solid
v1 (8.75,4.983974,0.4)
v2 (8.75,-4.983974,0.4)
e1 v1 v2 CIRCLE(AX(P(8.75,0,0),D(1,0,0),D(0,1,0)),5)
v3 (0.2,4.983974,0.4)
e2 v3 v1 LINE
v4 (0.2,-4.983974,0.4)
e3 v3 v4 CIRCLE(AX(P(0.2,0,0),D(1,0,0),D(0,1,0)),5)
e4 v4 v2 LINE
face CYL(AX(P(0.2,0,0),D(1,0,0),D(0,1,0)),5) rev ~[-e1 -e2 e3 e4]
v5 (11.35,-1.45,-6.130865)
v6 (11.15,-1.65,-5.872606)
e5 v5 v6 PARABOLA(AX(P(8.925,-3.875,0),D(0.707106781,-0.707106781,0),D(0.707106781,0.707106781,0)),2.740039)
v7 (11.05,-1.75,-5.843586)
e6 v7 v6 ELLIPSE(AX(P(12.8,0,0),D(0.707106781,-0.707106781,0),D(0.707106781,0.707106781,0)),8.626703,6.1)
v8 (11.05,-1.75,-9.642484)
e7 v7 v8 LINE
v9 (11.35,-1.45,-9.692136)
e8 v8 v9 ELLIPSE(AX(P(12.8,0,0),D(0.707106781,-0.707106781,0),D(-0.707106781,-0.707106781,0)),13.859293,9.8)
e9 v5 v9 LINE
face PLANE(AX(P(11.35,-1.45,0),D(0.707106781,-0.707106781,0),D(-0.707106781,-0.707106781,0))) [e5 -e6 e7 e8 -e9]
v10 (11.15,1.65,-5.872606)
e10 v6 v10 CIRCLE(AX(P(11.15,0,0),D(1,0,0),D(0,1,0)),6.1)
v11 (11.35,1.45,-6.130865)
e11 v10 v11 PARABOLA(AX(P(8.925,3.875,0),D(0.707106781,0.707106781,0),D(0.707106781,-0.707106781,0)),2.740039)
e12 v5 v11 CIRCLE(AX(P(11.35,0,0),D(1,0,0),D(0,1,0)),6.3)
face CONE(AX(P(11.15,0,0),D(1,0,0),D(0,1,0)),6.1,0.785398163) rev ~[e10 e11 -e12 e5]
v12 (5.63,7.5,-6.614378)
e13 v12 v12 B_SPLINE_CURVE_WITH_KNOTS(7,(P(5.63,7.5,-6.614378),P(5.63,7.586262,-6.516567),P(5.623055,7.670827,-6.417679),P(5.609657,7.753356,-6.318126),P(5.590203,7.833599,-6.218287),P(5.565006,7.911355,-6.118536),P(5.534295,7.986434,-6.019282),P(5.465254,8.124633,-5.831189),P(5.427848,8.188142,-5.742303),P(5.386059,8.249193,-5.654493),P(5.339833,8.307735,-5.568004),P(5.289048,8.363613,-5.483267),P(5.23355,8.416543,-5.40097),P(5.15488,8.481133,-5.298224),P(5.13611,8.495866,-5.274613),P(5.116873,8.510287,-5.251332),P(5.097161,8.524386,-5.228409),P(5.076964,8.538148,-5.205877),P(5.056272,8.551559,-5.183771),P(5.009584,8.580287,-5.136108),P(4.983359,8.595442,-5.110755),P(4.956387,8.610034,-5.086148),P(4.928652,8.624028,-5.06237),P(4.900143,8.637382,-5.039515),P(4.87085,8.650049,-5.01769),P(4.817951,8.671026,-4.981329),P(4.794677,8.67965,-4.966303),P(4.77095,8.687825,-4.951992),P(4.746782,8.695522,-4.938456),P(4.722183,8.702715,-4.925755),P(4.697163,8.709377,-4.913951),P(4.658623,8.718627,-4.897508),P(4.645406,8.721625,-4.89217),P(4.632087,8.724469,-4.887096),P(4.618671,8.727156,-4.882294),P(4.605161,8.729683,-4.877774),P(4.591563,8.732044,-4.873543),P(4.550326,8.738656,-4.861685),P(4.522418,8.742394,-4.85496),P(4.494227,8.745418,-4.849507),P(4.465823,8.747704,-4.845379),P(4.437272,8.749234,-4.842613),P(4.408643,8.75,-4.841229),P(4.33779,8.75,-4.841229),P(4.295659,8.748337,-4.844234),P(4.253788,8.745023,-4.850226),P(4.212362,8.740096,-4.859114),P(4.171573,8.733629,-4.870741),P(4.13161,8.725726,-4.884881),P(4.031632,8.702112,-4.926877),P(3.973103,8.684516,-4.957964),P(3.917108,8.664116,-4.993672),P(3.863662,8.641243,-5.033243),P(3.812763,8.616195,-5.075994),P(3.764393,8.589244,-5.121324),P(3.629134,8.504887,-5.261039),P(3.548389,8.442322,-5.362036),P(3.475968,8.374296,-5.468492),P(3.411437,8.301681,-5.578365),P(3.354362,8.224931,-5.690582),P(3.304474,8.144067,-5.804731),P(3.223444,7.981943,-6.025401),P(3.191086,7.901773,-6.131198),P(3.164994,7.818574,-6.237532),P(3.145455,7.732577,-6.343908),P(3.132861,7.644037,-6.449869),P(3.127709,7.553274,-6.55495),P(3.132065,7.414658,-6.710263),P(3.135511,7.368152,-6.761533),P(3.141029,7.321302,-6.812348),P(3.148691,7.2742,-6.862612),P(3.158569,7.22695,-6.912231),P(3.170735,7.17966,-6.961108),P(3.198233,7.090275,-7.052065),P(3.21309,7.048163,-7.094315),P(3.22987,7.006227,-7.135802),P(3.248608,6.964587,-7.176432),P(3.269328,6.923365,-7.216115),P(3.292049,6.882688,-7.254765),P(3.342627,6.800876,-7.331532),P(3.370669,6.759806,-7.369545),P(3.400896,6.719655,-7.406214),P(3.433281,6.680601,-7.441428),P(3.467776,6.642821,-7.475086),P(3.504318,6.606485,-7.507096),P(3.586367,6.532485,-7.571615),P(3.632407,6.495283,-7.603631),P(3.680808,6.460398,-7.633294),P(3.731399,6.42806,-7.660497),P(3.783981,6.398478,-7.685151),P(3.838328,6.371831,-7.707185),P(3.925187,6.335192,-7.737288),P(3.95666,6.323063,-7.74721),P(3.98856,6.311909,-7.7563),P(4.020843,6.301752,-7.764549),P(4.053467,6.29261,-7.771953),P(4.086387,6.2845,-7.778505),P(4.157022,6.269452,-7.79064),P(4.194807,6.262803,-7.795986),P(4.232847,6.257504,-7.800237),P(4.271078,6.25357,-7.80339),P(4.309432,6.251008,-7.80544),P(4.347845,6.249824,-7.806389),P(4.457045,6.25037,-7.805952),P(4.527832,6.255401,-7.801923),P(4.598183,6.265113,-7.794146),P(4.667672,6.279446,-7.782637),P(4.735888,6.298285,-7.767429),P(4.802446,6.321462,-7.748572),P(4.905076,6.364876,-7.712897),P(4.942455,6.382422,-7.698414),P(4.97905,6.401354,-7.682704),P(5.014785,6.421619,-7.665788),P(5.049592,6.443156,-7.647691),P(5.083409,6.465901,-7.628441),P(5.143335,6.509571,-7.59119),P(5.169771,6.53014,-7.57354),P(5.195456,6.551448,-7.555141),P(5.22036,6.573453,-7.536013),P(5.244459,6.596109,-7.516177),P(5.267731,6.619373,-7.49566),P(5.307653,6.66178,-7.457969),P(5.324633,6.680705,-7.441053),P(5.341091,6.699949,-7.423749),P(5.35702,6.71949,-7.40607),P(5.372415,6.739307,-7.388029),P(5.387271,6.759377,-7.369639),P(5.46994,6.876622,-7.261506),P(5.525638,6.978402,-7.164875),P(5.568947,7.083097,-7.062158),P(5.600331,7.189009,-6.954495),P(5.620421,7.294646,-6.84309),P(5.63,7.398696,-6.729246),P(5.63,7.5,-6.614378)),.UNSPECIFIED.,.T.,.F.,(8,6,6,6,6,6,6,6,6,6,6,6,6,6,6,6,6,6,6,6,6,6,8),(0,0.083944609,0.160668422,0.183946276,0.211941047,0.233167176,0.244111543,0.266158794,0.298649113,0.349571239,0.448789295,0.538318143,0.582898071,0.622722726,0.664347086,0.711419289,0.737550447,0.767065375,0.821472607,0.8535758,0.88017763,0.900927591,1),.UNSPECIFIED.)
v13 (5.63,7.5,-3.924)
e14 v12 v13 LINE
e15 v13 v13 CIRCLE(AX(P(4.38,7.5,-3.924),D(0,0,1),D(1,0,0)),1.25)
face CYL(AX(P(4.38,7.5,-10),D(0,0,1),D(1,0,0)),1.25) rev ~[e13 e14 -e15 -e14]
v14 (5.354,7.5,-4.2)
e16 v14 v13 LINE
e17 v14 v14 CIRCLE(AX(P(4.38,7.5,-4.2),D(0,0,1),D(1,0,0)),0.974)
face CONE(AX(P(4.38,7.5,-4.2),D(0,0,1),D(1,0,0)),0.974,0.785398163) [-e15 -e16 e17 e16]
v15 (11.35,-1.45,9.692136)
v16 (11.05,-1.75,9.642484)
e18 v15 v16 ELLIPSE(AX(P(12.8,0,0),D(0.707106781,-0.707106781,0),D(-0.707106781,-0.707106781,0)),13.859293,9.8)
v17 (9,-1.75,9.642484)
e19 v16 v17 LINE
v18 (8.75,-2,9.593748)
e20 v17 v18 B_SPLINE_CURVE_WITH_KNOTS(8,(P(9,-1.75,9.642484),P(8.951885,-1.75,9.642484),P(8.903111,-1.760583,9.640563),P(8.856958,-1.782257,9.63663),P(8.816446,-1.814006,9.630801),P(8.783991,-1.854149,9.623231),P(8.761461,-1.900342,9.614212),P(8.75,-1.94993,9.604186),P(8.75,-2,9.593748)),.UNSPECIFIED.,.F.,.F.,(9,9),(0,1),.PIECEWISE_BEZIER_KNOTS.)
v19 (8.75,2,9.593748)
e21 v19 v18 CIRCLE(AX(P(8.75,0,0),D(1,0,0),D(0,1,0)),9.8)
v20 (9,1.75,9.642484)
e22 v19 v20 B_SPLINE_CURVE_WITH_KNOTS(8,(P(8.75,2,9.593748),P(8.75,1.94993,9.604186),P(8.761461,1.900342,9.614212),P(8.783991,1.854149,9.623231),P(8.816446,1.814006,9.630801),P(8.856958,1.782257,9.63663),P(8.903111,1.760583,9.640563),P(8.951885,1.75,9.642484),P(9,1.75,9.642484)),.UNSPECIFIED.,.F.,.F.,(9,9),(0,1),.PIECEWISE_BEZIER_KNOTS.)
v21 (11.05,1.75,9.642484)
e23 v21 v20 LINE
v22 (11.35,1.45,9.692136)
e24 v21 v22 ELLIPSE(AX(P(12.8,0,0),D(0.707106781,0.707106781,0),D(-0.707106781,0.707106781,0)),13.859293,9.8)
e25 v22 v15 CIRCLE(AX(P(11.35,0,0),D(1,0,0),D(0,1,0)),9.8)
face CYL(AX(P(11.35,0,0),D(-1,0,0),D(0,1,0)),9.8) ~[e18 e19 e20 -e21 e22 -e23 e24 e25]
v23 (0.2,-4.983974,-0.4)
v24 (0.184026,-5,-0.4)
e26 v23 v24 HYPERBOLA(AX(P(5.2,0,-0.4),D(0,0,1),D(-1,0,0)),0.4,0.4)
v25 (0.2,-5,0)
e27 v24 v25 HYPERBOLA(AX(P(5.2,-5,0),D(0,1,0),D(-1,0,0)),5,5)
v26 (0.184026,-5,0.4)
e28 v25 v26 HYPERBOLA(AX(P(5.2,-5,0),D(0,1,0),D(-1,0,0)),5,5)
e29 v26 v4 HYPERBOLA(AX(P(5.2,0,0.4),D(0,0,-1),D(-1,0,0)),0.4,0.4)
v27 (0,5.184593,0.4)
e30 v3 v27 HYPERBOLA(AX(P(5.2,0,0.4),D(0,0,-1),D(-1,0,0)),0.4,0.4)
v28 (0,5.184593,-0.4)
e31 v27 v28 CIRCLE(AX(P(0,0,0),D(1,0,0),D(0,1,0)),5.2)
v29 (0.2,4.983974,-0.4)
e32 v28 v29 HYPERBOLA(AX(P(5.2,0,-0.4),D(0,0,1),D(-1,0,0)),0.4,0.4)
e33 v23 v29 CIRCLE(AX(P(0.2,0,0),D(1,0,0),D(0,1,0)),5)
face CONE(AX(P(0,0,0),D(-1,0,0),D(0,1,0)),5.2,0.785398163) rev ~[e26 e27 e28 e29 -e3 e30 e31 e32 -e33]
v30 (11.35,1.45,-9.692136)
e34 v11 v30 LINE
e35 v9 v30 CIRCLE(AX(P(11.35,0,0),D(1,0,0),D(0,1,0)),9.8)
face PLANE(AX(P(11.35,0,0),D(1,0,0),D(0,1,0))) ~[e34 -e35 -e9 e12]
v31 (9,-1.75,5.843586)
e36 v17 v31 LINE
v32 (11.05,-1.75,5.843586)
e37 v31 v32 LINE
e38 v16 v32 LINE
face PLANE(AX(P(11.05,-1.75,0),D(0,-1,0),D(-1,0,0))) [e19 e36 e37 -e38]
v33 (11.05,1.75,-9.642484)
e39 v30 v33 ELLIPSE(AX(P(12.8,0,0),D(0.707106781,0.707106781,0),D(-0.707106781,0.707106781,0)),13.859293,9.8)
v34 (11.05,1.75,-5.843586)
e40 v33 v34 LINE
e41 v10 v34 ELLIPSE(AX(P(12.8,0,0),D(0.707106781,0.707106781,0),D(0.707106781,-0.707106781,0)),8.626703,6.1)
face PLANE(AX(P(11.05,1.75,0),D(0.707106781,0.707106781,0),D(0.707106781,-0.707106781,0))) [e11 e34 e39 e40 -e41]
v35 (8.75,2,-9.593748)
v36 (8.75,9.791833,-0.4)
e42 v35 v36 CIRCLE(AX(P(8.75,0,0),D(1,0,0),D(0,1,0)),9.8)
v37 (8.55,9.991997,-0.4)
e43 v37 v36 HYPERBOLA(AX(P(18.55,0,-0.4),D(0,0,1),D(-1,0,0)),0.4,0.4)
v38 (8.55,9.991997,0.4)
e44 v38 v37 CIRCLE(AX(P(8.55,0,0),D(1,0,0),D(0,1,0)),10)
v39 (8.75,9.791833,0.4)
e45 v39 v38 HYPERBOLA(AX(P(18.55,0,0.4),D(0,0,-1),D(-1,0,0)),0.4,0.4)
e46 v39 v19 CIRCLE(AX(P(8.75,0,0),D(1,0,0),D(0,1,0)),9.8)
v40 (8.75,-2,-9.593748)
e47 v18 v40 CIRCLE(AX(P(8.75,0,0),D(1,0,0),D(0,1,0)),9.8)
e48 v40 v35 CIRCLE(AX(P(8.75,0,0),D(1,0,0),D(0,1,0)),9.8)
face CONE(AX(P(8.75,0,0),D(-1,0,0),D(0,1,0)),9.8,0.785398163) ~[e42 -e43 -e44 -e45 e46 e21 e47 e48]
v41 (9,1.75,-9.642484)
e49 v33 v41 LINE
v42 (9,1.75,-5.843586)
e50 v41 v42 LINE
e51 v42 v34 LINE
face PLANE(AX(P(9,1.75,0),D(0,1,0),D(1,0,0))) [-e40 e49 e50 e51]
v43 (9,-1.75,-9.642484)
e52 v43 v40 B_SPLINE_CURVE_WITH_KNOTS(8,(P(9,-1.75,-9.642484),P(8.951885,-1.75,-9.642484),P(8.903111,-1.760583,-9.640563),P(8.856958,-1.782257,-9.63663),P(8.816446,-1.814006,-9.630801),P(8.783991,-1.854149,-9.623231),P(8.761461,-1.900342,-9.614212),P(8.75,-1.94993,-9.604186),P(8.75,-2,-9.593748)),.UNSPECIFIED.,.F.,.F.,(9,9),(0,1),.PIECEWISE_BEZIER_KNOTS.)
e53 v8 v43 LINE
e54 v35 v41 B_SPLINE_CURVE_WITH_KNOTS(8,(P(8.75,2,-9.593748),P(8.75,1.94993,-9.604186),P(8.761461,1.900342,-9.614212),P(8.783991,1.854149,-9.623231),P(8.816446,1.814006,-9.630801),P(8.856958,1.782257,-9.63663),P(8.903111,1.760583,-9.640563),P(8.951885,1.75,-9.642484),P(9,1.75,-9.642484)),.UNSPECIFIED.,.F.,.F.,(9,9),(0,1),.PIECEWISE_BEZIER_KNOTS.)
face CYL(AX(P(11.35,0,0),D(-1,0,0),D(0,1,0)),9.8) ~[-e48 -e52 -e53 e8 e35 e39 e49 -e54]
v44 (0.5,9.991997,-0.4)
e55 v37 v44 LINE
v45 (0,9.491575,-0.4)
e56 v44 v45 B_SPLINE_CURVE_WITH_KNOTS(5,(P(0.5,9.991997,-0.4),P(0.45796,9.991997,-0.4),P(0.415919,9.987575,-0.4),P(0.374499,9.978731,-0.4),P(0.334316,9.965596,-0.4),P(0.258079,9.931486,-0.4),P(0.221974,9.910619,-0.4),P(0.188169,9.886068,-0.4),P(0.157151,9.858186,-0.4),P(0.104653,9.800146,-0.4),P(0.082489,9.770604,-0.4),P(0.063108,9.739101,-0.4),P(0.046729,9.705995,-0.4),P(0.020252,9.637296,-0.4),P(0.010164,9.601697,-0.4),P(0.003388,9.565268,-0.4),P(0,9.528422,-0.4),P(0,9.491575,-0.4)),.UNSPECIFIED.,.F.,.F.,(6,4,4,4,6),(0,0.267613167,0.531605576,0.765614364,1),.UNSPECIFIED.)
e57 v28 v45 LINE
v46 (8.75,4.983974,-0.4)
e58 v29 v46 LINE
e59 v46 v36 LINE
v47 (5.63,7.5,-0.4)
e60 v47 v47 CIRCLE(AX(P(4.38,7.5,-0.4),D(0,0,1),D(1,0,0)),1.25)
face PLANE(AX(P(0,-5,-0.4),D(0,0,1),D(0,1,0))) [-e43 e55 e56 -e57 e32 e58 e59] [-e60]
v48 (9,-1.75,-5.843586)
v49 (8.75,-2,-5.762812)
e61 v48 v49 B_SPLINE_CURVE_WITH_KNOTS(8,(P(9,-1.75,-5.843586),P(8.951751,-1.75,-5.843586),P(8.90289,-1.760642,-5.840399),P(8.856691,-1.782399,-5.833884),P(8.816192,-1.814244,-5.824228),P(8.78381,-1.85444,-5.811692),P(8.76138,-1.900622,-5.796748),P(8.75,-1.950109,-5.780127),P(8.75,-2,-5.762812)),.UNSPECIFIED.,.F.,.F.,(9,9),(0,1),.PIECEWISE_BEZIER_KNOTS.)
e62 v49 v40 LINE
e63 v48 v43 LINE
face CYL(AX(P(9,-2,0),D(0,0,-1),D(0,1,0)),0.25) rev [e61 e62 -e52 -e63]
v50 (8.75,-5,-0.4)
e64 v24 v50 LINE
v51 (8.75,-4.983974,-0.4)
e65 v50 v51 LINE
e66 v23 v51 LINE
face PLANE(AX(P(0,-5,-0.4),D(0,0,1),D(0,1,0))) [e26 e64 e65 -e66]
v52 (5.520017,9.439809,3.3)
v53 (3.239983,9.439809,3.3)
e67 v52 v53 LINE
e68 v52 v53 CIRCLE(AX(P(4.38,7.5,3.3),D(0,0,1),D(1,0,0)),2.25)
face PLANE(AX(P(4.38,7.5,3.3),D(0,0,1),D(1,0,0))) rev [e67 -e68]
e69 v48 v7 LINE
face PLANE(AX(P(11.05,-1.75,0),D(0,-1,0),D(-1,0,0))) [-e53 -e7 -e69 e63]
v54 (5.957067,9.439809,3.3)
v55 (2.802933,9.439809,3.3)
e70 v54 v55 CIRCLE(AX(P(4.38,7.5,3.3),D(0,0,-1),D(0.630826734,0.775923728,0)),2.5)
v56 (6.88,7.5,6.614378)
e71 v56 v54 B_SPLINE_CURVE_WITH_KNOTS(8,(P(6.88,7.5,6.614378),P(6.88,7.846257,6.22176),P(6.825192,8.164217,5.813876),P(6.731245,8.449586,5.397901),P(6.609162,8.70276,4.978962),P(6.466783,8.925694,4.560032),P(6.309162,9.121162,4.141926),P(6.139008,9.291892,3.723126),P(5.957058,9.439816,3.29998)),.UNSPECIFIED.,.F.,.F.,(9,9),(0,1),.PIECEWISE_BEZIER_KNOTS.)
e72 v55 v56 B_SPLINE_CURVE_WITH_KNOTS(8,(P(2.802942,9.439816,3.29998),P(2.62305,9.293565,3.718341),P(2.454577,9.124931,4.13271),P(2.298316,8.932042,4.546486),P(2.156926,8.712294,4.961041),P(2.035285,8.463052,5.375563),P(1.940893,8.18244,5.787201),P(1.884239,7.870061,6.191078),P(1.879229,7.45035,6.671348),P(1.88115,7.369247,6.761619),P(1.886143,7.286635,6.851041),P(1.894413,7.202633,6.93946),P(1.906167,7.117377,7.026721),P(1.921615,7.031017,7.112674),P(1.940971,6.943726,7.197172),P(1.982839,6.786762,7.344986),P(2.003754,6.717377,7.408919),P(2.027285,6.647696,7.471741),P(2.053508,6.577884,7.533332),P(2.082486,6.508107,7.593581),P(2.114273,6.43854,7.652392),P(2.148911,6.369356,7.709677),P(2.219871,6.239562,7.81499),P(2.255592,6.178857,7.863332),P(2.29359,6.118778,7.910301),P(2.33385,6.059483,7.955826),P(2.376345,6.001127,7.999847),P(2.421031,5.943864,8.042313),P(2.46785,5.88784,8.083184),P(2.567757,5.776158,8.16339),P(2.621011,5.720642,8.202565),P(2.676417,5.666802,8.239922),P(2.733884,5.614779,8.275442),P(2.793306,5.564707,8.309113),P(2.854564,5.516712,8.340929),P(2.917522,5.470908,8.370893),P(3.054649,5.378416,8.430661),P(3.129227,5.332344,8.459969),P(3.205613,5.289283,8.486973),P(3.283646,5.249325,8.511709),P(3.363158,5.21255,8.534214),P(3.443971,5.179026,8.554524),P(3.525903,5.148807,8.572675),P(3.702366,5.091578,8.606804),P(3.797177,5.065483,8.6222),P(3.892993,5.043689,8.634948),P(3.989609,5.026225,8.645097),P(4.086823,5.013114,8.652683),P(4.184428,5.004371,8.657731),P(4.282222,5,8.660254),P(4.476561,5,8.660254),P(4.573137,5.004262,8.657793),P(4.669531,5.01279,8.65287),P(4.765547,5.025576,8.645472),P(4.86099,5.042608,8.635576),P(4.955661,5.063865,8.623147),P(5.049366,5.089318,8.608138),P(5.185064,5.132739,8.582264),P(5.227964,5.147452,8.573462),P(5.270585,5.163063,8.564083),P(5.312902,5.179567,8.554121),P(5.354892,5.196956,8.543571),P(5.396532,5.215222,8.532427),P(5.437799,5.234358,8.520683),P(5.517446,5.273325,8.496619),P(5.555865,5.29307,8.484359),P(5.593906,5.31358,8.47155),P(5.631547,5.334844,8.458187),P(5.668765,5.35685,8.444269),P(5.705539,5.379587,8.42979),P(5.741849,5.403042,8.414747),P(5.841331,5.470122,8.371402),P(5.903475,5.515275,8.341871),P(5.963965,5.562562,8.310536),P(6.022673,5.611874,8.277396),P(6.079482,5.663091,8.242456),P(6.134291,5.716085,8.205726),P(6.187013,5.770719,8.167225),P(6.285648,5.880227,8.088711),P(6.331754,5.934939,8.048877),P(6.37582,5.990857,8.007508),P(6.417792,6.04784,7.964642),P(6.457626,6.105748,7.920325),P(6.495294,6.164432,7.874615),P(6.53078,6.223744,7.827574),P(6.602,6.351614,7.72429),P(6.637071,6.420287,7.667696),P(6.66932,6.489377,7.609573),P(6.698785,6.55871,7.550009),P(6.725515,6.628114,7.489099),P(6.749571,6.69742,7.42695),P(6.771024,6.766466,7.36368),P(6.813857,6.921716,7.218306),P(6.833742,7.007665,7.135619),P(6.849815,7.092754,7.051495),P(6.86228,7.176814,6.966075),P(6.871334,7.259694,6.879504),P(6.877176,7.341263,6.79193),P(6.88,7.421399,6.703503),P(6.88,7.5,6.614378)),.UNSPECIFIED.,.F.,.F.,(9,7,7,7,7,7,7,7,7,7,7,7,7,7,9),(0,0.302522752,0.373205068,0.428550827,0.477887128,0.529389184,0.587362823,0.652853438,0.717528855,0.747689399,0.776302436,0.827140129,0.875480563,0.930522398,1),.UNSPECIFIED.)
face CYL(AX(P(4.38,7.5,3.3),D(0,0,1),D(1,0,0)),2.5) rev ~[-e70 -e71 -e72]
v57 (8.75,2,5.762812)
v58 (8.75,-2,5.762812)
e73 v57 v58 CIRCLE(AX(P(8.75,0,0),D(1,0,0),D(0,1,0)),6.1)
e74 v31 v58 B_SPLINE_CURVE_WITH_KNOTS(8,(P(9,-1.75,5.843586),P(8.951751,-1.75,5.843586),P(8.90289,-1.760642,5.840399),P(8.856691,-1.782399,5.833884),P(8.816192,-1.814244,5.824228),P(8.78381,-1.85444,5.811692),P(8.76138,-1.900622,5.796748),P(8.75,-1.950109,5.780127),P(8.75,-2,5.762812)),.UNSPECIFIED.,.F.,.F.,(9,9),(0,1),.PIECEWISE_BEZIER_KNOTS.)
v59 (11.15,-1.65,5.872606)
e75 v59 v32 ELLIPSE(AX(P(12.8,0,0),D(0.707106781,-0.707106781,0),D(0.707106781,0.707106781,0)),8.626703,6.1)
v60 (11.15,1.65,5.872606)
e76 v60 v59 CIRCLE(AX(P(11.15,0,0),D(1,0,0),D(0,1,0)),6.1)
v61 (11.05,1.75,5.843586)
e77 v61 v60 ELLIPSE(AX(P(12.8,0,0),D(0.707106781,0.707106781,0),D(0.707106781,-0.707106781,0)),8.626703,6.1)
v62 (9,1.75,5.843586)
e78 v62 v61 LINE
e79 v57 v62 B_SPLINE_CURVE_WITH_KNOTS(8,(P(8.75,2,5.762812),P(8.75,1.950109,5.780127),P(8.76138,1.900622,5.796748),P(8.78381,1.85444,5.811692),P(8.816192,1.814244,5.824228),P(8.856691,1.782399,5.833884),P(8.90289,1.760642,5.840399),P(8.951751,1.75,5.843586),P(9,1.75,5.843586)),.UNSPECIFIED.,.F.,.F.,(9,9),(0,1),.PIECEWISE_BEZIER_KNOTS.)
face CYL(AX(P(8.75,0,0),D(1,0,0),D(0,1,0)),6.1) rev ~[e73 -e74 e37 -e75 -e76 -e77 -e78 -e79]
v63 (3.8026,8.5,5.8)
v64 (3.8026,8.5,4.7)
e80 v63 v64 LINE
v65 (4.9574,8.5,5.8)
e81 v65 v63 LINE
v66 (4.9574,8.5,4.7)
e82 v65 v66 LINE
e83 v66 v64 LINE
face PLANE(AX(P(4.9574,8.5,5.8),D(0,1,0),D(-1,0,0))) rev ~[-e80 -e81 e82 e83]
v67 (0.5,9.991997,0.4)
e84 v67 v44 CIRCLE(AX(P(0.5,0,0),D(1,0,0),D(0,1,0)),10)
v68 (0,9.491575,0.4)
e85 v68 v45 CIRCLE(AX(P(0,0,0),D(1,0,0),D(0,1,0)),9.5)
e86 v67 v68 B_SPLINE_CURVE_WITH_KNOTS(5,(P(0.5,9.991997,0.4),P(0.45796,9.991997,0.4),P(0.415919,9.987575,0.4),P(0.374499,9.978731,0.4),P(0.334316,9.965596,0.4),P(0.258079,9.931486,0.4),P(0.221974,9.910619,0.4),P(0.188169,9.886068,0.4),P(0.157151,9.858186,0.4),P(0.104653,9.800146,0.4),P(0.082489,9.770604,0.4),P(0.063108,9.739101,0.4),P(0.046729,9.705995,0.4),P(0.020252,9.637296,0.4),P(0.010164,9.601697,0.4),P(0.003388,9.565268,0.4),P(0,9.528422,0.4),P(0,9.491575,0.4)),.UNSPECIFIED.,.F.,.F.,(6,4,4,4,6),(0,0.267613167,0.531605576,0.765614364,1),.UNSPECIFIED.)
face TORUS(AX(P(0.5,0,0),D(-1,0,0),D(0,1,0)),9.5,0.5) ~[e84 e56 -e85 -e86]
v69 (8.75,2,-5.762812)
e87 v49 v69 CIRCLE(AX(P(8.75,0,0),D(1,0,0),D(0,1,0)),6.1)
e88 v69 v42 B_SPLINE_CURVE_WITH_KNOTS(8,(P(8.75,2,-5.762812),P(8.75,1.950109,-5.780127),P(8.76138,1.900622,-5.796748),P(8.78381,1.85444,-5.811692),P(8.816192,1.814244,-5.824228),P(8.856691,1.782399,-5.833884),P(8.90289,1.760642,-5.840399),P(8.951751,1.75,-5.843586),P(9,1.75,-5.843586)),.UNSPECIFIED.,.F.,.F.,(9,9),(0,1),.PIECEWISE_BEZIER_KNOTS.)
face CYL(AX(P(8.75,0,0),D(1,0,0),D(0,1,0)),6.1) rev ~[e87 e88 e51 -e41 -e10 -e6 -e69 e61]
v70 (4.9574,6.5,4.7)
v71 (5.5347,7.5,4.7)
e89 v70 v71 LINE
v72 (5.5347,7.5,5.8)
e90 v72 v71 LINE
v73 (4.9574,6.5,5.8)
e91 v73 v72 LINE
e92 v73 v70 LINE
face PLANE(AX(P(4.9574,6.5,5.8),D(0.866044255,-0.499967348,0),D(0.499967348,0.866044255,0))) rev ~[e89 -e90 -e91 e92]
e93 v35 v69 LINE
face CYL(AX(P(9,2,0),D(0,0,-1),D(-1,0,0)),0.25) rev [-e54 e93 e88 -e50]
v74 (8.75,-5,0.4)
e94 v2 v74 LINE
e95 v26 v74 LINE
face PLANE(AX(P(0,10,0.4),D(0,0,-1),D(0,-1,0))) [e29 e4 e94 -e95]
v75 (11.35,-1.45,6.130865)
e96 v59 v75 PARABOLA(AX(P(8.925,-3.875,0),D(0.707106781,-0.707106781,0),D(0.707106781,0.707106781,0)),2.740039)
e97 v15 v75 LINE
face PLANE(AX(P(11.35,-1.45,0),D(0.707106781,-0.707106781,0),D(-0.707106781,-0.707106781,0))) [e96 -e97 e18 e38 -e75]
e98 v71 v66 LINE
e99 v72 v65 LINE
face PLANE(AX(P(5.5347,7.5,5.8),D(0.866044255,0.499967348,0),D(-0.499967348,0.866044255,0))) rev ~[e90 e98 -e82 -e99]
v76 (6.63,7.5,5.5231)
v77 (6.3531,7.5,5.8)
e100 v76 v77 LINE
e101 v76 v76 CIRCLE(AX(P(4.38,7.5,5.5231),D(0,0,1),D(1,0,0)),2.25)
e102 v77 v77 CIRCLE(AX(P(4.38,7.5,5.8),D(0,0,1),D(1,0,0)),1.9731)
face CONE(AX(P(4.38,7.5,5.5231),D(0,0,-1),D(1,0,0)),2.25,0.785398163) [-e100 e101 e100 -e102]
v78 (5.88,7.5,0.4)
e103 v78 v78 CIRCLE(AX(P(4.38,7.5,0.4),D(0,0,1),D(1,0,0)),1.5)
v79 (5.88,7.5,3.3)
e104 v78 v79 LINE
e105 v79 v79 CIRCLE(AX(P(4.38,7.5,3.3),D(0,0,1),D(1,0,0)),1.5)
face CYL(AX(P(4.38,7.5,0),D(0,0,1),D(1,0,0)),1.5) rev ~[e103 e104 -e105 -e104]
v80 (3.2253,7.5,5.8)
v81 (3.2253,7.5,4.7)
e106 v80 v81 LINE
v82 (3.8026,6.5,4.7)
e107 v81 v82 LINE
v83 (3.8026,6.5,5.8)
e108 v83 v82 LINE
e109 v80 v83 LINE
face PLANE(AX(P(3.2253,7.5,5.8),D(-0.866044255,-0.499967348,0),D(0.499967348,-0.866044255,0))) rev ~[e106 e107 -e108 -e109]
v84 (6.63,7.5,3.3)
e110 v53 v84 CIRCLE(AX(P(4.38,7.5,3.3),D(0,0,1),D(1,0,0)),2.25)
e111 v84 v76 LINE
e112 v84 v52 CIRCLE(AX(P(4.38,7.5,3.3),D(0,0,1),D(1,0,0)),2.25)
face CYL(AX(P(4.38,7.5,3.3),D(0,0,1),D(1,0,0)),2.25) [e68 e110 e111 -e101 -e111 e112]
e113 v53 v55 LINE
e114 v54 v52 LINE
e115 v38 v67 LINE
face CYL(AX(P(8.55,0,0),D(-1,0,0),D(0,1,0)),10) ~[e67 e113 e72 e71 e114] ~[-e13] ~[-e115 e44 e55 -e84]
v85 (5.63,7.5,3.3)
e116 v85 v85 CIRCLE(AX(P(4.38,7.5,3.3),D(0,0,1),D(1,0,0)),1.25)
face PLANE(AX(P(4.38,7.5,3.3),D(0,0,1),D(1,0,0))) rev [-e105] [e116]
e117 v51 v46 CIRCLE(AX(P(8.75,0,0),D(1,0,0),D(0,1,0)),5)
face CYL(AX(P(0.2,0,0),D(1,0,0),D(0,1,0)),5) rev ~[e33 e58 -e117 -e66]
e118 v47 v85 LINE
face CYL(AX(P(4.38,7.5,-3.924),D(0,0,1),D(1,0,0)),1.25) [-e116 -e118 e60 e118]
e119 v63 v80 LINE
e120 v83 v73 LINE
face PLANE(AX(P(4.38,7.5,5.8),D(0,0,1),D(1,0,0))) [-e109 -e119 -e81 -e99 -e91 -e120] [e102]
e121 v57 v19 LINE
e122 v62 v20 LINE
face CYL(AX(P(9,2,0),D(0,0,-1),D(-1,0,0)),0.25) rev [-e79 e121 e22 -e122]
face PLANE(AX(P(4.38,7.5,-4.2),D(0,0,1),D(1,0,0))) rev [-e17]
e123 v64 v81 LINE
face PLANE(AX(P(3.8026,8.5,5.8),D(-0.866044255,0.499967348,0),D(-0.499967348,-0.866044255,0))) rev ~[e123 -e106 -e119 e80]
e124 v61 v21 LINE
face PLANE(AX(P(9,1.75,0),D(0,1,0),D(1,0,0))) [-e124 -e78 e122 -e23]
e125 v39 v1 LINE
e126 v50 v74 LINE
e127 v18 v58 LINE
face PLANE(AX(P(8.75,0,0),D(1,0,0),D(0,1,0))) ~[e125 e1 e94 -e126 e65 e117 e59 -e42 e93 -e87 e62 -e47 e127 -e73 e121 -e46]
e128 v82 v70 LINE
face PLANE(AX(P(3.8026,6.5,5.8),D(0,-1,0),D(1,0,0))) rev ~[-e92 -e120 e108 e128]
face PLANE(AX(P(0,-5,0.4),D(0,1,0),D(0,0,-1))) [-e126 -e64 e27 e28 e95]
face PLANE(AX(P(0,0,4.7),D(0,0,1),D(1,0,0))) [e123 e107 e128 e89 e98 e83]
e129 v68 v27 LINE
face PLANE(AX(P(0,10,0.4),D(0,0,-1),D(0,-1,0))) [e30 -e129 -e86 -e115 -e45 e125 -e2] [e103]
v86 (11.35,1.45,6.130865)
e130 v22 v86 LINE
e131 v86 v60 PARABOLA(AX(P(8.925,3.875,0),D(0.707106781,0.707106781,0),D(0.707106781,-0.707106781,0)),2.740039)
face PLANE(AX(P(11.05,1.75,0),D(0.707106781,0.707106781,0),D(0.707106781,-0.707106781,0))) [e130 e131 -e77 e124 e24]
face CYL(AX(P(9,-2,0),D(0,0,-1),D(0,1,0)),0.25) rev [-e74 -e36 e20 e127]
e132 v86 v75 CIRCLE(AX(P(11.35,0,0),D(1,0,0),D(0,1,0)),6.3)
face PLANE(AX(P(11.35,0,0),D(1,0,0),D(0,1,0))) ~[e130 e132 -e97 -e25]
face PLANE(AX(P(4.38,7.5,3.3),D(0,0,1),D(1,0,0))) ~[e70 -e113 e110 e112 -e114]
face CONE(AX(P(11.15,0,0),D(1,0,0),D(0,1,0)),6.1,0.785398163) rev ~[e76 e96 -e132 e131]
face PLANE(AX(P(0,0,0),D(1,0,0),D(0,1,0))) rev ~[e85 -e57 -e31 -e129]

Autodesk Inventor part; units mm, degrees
sketch "Sketch_1" plane through (0, 0, 0) normal (0, 0, 1) x (1, 0, 0)
  line L0 (11.35, 0) -> (0, 0)
  line L1 (0, 5.2) -> (0.2, 5)
  line L2 (0.2, 5) -> (8.75, 5)
  line L3 (8.75, 5) -> (8.75, 6.1)
  line L4 (8.75, 6.1) -> (11.15, 6.1)
  line L5 (11.15, 6.1) -> (11.35, 6.3)
  line L6 (11.35, 6.3) -> (11.35, 9.8)
  line L7 (11.35, 9.8) -> (8.75, 9.8)
  line L8 (8.75, 9.8) -> (8.55, 10)
  line L9 (8.55, 10) -> (0.5, 10)
  arc A0 (0.5, 10) -> (0, 9.5) centre (0.5, 9.5) ccw
  line L10 (0, 9.5) -> (0, 5.2)
revolve "Revolution1" add sketch "Sketch_1" angle 360 about axis through (11.35, 0, 0) along (1, 0, 0)
sketch "Sketch_2" plane through (0, 0, 0) normal (0, 0, 1) x (1, 0, 0)
  arc A0 (8.75, 2) -> (9, 1.75) centre (9, 2) ccw
  line L0 (9, 1.75) -> (11.05, 1.75)
  line L1 (11.05, 1.75) -> (11.35, 1.45)
  line L2 (11.35, 1.45) -> (11.35, -1.45)
  line L3 (11.35, -1.45) -> (11.05, -1.75)
  line L4 (11.05, -1.75) -> (9, -1.75)
  arc A1 (9, -1.75) -> (8.75, -2) centre (9, -2) ccw
  line L5 (8.75, -2) -> (8.75, -10)
  line L6 (8.75, -10) -> (12.35, -10)
  line L7 (12.35, -10) -> (12.35, 10)
  line L8 (12.35, 10) -> (8.75, 10)
  line L9 (8.75, 10) -> (8.75, 2)
extrude "Extrusion1" cut sketch "Sketch_2" along normal mid plane 20
sketch "Sketch_3" plane through (0, 7.5, 0) normal (0, 1, 0) x (1, 0, 0)
  line L0 (4.38, -10) -> (4.38, 10)
  line L1 (4.38, 10) -> (5.63, 10)
  line L2 (5.63, 10) -> (5.63, 0)
  line L3 (5.63, 0) -> (5.88, 0)
  line L4 (5.88, 0) -> (5.88, -3.3)
  line L5 (5.88, -3.3) -> (6.88, -3.3)
  line L6 (6.88, -3.3) -> (6.88, -10)
  line L7 (6.88, -10) -> (4.38, -10)
  line L8 (4.38, -10) -> (4.38, 10)
revolve "Revolution2" cut sketch "Sketch_3" angle 360 about axis through (4.38, 7.5, 10) along (0, 0, 1)
sketch "Sketch_4" plane through (0, 0, 0) normal (1, 0, 0) x (0, 1, 0)
  line L0 (-5, 0.4) -> (-5, -0.4)
  line L1 (-5, -0.4) -> (10, -0.4)
  line L2 (10, -0.4) -> (10, 0.4)
  line L3 (10, 0.4) -> (-5, 0.4)
extrude "Extrusion2" cut sketch "Sketch_4" along normal blind 8.75
sketch "Sketch_5" plane through (0, 7.5, 0) normal (0, 1, 0) x (1, 0, 0)
  line L0 (4.38, -5.8) -> (4.38, 4.2)
  line L1 (4.38, 4.2) -> (5.354, 4.2)
  line L2 (5.354, 4.2) -> (5.63, 3.924)
  line L3 (5.63, 3.924) -> (5.63, -3.3)
  line L4 (5.63, -3.3) -> (6.63, -3.3)
  line L5 (6.63, -3.3) -> (6.63, -5.5231)
  line L6 (6.63, -5.5231) -> (6.3531, -5.8)
  line L7 (6.3531, -5.8) -> (4.38, -5.8)
  line L8 (4.38, -5.8) -> (4.38, 4.2)
revolve "Revolution3" add sketch "Sketch_5" angle 360 about axis through (4.38, 7.5, 5.8) along (0, 0, 1)
thread "Thread1" size "M2.5x0.45" class "6g" standard "ISO Metric profile" full length
sketch "Sketch_6" plane through (0, 0, 5.8) normal (0, 0, 1) x (1, 0, 0)
  line L0 (3.2253, 7.5) -> (3.8026, 6.5)
  line L1 (3.8026, 6.5) -> (4.9574, 6.5)
  line L2 (4.9574, 6.5) -> (5.5347, 7.5)
  line L3 (5.5347, 7.5) -> (4.9574, 8.5)
  line L4 (4.9574, 8.5) -> (3.8026, 8.5)
  line L5 (3.8026, 8.5) -> (3.2253, 7.5)
extrude "Extrusion3" cut sketch "Sketch_6" against normal blind 1.1
ref_plane "p3_p2_XY" through (9, 0, 0) normal (-1, 0, 0) x (0, 0, -1)
ref_plane "p3_p2_YZ" through (9, 0, 0) normal (0, 0, -1) x (0, -1, 0)
ref_plane "p3_p2_ZX" through (9, 0, 0) normal (0, -1, 0) x (-1, 0, 0)
properties part number "MOR-20C - 6-10 Hub 2"
